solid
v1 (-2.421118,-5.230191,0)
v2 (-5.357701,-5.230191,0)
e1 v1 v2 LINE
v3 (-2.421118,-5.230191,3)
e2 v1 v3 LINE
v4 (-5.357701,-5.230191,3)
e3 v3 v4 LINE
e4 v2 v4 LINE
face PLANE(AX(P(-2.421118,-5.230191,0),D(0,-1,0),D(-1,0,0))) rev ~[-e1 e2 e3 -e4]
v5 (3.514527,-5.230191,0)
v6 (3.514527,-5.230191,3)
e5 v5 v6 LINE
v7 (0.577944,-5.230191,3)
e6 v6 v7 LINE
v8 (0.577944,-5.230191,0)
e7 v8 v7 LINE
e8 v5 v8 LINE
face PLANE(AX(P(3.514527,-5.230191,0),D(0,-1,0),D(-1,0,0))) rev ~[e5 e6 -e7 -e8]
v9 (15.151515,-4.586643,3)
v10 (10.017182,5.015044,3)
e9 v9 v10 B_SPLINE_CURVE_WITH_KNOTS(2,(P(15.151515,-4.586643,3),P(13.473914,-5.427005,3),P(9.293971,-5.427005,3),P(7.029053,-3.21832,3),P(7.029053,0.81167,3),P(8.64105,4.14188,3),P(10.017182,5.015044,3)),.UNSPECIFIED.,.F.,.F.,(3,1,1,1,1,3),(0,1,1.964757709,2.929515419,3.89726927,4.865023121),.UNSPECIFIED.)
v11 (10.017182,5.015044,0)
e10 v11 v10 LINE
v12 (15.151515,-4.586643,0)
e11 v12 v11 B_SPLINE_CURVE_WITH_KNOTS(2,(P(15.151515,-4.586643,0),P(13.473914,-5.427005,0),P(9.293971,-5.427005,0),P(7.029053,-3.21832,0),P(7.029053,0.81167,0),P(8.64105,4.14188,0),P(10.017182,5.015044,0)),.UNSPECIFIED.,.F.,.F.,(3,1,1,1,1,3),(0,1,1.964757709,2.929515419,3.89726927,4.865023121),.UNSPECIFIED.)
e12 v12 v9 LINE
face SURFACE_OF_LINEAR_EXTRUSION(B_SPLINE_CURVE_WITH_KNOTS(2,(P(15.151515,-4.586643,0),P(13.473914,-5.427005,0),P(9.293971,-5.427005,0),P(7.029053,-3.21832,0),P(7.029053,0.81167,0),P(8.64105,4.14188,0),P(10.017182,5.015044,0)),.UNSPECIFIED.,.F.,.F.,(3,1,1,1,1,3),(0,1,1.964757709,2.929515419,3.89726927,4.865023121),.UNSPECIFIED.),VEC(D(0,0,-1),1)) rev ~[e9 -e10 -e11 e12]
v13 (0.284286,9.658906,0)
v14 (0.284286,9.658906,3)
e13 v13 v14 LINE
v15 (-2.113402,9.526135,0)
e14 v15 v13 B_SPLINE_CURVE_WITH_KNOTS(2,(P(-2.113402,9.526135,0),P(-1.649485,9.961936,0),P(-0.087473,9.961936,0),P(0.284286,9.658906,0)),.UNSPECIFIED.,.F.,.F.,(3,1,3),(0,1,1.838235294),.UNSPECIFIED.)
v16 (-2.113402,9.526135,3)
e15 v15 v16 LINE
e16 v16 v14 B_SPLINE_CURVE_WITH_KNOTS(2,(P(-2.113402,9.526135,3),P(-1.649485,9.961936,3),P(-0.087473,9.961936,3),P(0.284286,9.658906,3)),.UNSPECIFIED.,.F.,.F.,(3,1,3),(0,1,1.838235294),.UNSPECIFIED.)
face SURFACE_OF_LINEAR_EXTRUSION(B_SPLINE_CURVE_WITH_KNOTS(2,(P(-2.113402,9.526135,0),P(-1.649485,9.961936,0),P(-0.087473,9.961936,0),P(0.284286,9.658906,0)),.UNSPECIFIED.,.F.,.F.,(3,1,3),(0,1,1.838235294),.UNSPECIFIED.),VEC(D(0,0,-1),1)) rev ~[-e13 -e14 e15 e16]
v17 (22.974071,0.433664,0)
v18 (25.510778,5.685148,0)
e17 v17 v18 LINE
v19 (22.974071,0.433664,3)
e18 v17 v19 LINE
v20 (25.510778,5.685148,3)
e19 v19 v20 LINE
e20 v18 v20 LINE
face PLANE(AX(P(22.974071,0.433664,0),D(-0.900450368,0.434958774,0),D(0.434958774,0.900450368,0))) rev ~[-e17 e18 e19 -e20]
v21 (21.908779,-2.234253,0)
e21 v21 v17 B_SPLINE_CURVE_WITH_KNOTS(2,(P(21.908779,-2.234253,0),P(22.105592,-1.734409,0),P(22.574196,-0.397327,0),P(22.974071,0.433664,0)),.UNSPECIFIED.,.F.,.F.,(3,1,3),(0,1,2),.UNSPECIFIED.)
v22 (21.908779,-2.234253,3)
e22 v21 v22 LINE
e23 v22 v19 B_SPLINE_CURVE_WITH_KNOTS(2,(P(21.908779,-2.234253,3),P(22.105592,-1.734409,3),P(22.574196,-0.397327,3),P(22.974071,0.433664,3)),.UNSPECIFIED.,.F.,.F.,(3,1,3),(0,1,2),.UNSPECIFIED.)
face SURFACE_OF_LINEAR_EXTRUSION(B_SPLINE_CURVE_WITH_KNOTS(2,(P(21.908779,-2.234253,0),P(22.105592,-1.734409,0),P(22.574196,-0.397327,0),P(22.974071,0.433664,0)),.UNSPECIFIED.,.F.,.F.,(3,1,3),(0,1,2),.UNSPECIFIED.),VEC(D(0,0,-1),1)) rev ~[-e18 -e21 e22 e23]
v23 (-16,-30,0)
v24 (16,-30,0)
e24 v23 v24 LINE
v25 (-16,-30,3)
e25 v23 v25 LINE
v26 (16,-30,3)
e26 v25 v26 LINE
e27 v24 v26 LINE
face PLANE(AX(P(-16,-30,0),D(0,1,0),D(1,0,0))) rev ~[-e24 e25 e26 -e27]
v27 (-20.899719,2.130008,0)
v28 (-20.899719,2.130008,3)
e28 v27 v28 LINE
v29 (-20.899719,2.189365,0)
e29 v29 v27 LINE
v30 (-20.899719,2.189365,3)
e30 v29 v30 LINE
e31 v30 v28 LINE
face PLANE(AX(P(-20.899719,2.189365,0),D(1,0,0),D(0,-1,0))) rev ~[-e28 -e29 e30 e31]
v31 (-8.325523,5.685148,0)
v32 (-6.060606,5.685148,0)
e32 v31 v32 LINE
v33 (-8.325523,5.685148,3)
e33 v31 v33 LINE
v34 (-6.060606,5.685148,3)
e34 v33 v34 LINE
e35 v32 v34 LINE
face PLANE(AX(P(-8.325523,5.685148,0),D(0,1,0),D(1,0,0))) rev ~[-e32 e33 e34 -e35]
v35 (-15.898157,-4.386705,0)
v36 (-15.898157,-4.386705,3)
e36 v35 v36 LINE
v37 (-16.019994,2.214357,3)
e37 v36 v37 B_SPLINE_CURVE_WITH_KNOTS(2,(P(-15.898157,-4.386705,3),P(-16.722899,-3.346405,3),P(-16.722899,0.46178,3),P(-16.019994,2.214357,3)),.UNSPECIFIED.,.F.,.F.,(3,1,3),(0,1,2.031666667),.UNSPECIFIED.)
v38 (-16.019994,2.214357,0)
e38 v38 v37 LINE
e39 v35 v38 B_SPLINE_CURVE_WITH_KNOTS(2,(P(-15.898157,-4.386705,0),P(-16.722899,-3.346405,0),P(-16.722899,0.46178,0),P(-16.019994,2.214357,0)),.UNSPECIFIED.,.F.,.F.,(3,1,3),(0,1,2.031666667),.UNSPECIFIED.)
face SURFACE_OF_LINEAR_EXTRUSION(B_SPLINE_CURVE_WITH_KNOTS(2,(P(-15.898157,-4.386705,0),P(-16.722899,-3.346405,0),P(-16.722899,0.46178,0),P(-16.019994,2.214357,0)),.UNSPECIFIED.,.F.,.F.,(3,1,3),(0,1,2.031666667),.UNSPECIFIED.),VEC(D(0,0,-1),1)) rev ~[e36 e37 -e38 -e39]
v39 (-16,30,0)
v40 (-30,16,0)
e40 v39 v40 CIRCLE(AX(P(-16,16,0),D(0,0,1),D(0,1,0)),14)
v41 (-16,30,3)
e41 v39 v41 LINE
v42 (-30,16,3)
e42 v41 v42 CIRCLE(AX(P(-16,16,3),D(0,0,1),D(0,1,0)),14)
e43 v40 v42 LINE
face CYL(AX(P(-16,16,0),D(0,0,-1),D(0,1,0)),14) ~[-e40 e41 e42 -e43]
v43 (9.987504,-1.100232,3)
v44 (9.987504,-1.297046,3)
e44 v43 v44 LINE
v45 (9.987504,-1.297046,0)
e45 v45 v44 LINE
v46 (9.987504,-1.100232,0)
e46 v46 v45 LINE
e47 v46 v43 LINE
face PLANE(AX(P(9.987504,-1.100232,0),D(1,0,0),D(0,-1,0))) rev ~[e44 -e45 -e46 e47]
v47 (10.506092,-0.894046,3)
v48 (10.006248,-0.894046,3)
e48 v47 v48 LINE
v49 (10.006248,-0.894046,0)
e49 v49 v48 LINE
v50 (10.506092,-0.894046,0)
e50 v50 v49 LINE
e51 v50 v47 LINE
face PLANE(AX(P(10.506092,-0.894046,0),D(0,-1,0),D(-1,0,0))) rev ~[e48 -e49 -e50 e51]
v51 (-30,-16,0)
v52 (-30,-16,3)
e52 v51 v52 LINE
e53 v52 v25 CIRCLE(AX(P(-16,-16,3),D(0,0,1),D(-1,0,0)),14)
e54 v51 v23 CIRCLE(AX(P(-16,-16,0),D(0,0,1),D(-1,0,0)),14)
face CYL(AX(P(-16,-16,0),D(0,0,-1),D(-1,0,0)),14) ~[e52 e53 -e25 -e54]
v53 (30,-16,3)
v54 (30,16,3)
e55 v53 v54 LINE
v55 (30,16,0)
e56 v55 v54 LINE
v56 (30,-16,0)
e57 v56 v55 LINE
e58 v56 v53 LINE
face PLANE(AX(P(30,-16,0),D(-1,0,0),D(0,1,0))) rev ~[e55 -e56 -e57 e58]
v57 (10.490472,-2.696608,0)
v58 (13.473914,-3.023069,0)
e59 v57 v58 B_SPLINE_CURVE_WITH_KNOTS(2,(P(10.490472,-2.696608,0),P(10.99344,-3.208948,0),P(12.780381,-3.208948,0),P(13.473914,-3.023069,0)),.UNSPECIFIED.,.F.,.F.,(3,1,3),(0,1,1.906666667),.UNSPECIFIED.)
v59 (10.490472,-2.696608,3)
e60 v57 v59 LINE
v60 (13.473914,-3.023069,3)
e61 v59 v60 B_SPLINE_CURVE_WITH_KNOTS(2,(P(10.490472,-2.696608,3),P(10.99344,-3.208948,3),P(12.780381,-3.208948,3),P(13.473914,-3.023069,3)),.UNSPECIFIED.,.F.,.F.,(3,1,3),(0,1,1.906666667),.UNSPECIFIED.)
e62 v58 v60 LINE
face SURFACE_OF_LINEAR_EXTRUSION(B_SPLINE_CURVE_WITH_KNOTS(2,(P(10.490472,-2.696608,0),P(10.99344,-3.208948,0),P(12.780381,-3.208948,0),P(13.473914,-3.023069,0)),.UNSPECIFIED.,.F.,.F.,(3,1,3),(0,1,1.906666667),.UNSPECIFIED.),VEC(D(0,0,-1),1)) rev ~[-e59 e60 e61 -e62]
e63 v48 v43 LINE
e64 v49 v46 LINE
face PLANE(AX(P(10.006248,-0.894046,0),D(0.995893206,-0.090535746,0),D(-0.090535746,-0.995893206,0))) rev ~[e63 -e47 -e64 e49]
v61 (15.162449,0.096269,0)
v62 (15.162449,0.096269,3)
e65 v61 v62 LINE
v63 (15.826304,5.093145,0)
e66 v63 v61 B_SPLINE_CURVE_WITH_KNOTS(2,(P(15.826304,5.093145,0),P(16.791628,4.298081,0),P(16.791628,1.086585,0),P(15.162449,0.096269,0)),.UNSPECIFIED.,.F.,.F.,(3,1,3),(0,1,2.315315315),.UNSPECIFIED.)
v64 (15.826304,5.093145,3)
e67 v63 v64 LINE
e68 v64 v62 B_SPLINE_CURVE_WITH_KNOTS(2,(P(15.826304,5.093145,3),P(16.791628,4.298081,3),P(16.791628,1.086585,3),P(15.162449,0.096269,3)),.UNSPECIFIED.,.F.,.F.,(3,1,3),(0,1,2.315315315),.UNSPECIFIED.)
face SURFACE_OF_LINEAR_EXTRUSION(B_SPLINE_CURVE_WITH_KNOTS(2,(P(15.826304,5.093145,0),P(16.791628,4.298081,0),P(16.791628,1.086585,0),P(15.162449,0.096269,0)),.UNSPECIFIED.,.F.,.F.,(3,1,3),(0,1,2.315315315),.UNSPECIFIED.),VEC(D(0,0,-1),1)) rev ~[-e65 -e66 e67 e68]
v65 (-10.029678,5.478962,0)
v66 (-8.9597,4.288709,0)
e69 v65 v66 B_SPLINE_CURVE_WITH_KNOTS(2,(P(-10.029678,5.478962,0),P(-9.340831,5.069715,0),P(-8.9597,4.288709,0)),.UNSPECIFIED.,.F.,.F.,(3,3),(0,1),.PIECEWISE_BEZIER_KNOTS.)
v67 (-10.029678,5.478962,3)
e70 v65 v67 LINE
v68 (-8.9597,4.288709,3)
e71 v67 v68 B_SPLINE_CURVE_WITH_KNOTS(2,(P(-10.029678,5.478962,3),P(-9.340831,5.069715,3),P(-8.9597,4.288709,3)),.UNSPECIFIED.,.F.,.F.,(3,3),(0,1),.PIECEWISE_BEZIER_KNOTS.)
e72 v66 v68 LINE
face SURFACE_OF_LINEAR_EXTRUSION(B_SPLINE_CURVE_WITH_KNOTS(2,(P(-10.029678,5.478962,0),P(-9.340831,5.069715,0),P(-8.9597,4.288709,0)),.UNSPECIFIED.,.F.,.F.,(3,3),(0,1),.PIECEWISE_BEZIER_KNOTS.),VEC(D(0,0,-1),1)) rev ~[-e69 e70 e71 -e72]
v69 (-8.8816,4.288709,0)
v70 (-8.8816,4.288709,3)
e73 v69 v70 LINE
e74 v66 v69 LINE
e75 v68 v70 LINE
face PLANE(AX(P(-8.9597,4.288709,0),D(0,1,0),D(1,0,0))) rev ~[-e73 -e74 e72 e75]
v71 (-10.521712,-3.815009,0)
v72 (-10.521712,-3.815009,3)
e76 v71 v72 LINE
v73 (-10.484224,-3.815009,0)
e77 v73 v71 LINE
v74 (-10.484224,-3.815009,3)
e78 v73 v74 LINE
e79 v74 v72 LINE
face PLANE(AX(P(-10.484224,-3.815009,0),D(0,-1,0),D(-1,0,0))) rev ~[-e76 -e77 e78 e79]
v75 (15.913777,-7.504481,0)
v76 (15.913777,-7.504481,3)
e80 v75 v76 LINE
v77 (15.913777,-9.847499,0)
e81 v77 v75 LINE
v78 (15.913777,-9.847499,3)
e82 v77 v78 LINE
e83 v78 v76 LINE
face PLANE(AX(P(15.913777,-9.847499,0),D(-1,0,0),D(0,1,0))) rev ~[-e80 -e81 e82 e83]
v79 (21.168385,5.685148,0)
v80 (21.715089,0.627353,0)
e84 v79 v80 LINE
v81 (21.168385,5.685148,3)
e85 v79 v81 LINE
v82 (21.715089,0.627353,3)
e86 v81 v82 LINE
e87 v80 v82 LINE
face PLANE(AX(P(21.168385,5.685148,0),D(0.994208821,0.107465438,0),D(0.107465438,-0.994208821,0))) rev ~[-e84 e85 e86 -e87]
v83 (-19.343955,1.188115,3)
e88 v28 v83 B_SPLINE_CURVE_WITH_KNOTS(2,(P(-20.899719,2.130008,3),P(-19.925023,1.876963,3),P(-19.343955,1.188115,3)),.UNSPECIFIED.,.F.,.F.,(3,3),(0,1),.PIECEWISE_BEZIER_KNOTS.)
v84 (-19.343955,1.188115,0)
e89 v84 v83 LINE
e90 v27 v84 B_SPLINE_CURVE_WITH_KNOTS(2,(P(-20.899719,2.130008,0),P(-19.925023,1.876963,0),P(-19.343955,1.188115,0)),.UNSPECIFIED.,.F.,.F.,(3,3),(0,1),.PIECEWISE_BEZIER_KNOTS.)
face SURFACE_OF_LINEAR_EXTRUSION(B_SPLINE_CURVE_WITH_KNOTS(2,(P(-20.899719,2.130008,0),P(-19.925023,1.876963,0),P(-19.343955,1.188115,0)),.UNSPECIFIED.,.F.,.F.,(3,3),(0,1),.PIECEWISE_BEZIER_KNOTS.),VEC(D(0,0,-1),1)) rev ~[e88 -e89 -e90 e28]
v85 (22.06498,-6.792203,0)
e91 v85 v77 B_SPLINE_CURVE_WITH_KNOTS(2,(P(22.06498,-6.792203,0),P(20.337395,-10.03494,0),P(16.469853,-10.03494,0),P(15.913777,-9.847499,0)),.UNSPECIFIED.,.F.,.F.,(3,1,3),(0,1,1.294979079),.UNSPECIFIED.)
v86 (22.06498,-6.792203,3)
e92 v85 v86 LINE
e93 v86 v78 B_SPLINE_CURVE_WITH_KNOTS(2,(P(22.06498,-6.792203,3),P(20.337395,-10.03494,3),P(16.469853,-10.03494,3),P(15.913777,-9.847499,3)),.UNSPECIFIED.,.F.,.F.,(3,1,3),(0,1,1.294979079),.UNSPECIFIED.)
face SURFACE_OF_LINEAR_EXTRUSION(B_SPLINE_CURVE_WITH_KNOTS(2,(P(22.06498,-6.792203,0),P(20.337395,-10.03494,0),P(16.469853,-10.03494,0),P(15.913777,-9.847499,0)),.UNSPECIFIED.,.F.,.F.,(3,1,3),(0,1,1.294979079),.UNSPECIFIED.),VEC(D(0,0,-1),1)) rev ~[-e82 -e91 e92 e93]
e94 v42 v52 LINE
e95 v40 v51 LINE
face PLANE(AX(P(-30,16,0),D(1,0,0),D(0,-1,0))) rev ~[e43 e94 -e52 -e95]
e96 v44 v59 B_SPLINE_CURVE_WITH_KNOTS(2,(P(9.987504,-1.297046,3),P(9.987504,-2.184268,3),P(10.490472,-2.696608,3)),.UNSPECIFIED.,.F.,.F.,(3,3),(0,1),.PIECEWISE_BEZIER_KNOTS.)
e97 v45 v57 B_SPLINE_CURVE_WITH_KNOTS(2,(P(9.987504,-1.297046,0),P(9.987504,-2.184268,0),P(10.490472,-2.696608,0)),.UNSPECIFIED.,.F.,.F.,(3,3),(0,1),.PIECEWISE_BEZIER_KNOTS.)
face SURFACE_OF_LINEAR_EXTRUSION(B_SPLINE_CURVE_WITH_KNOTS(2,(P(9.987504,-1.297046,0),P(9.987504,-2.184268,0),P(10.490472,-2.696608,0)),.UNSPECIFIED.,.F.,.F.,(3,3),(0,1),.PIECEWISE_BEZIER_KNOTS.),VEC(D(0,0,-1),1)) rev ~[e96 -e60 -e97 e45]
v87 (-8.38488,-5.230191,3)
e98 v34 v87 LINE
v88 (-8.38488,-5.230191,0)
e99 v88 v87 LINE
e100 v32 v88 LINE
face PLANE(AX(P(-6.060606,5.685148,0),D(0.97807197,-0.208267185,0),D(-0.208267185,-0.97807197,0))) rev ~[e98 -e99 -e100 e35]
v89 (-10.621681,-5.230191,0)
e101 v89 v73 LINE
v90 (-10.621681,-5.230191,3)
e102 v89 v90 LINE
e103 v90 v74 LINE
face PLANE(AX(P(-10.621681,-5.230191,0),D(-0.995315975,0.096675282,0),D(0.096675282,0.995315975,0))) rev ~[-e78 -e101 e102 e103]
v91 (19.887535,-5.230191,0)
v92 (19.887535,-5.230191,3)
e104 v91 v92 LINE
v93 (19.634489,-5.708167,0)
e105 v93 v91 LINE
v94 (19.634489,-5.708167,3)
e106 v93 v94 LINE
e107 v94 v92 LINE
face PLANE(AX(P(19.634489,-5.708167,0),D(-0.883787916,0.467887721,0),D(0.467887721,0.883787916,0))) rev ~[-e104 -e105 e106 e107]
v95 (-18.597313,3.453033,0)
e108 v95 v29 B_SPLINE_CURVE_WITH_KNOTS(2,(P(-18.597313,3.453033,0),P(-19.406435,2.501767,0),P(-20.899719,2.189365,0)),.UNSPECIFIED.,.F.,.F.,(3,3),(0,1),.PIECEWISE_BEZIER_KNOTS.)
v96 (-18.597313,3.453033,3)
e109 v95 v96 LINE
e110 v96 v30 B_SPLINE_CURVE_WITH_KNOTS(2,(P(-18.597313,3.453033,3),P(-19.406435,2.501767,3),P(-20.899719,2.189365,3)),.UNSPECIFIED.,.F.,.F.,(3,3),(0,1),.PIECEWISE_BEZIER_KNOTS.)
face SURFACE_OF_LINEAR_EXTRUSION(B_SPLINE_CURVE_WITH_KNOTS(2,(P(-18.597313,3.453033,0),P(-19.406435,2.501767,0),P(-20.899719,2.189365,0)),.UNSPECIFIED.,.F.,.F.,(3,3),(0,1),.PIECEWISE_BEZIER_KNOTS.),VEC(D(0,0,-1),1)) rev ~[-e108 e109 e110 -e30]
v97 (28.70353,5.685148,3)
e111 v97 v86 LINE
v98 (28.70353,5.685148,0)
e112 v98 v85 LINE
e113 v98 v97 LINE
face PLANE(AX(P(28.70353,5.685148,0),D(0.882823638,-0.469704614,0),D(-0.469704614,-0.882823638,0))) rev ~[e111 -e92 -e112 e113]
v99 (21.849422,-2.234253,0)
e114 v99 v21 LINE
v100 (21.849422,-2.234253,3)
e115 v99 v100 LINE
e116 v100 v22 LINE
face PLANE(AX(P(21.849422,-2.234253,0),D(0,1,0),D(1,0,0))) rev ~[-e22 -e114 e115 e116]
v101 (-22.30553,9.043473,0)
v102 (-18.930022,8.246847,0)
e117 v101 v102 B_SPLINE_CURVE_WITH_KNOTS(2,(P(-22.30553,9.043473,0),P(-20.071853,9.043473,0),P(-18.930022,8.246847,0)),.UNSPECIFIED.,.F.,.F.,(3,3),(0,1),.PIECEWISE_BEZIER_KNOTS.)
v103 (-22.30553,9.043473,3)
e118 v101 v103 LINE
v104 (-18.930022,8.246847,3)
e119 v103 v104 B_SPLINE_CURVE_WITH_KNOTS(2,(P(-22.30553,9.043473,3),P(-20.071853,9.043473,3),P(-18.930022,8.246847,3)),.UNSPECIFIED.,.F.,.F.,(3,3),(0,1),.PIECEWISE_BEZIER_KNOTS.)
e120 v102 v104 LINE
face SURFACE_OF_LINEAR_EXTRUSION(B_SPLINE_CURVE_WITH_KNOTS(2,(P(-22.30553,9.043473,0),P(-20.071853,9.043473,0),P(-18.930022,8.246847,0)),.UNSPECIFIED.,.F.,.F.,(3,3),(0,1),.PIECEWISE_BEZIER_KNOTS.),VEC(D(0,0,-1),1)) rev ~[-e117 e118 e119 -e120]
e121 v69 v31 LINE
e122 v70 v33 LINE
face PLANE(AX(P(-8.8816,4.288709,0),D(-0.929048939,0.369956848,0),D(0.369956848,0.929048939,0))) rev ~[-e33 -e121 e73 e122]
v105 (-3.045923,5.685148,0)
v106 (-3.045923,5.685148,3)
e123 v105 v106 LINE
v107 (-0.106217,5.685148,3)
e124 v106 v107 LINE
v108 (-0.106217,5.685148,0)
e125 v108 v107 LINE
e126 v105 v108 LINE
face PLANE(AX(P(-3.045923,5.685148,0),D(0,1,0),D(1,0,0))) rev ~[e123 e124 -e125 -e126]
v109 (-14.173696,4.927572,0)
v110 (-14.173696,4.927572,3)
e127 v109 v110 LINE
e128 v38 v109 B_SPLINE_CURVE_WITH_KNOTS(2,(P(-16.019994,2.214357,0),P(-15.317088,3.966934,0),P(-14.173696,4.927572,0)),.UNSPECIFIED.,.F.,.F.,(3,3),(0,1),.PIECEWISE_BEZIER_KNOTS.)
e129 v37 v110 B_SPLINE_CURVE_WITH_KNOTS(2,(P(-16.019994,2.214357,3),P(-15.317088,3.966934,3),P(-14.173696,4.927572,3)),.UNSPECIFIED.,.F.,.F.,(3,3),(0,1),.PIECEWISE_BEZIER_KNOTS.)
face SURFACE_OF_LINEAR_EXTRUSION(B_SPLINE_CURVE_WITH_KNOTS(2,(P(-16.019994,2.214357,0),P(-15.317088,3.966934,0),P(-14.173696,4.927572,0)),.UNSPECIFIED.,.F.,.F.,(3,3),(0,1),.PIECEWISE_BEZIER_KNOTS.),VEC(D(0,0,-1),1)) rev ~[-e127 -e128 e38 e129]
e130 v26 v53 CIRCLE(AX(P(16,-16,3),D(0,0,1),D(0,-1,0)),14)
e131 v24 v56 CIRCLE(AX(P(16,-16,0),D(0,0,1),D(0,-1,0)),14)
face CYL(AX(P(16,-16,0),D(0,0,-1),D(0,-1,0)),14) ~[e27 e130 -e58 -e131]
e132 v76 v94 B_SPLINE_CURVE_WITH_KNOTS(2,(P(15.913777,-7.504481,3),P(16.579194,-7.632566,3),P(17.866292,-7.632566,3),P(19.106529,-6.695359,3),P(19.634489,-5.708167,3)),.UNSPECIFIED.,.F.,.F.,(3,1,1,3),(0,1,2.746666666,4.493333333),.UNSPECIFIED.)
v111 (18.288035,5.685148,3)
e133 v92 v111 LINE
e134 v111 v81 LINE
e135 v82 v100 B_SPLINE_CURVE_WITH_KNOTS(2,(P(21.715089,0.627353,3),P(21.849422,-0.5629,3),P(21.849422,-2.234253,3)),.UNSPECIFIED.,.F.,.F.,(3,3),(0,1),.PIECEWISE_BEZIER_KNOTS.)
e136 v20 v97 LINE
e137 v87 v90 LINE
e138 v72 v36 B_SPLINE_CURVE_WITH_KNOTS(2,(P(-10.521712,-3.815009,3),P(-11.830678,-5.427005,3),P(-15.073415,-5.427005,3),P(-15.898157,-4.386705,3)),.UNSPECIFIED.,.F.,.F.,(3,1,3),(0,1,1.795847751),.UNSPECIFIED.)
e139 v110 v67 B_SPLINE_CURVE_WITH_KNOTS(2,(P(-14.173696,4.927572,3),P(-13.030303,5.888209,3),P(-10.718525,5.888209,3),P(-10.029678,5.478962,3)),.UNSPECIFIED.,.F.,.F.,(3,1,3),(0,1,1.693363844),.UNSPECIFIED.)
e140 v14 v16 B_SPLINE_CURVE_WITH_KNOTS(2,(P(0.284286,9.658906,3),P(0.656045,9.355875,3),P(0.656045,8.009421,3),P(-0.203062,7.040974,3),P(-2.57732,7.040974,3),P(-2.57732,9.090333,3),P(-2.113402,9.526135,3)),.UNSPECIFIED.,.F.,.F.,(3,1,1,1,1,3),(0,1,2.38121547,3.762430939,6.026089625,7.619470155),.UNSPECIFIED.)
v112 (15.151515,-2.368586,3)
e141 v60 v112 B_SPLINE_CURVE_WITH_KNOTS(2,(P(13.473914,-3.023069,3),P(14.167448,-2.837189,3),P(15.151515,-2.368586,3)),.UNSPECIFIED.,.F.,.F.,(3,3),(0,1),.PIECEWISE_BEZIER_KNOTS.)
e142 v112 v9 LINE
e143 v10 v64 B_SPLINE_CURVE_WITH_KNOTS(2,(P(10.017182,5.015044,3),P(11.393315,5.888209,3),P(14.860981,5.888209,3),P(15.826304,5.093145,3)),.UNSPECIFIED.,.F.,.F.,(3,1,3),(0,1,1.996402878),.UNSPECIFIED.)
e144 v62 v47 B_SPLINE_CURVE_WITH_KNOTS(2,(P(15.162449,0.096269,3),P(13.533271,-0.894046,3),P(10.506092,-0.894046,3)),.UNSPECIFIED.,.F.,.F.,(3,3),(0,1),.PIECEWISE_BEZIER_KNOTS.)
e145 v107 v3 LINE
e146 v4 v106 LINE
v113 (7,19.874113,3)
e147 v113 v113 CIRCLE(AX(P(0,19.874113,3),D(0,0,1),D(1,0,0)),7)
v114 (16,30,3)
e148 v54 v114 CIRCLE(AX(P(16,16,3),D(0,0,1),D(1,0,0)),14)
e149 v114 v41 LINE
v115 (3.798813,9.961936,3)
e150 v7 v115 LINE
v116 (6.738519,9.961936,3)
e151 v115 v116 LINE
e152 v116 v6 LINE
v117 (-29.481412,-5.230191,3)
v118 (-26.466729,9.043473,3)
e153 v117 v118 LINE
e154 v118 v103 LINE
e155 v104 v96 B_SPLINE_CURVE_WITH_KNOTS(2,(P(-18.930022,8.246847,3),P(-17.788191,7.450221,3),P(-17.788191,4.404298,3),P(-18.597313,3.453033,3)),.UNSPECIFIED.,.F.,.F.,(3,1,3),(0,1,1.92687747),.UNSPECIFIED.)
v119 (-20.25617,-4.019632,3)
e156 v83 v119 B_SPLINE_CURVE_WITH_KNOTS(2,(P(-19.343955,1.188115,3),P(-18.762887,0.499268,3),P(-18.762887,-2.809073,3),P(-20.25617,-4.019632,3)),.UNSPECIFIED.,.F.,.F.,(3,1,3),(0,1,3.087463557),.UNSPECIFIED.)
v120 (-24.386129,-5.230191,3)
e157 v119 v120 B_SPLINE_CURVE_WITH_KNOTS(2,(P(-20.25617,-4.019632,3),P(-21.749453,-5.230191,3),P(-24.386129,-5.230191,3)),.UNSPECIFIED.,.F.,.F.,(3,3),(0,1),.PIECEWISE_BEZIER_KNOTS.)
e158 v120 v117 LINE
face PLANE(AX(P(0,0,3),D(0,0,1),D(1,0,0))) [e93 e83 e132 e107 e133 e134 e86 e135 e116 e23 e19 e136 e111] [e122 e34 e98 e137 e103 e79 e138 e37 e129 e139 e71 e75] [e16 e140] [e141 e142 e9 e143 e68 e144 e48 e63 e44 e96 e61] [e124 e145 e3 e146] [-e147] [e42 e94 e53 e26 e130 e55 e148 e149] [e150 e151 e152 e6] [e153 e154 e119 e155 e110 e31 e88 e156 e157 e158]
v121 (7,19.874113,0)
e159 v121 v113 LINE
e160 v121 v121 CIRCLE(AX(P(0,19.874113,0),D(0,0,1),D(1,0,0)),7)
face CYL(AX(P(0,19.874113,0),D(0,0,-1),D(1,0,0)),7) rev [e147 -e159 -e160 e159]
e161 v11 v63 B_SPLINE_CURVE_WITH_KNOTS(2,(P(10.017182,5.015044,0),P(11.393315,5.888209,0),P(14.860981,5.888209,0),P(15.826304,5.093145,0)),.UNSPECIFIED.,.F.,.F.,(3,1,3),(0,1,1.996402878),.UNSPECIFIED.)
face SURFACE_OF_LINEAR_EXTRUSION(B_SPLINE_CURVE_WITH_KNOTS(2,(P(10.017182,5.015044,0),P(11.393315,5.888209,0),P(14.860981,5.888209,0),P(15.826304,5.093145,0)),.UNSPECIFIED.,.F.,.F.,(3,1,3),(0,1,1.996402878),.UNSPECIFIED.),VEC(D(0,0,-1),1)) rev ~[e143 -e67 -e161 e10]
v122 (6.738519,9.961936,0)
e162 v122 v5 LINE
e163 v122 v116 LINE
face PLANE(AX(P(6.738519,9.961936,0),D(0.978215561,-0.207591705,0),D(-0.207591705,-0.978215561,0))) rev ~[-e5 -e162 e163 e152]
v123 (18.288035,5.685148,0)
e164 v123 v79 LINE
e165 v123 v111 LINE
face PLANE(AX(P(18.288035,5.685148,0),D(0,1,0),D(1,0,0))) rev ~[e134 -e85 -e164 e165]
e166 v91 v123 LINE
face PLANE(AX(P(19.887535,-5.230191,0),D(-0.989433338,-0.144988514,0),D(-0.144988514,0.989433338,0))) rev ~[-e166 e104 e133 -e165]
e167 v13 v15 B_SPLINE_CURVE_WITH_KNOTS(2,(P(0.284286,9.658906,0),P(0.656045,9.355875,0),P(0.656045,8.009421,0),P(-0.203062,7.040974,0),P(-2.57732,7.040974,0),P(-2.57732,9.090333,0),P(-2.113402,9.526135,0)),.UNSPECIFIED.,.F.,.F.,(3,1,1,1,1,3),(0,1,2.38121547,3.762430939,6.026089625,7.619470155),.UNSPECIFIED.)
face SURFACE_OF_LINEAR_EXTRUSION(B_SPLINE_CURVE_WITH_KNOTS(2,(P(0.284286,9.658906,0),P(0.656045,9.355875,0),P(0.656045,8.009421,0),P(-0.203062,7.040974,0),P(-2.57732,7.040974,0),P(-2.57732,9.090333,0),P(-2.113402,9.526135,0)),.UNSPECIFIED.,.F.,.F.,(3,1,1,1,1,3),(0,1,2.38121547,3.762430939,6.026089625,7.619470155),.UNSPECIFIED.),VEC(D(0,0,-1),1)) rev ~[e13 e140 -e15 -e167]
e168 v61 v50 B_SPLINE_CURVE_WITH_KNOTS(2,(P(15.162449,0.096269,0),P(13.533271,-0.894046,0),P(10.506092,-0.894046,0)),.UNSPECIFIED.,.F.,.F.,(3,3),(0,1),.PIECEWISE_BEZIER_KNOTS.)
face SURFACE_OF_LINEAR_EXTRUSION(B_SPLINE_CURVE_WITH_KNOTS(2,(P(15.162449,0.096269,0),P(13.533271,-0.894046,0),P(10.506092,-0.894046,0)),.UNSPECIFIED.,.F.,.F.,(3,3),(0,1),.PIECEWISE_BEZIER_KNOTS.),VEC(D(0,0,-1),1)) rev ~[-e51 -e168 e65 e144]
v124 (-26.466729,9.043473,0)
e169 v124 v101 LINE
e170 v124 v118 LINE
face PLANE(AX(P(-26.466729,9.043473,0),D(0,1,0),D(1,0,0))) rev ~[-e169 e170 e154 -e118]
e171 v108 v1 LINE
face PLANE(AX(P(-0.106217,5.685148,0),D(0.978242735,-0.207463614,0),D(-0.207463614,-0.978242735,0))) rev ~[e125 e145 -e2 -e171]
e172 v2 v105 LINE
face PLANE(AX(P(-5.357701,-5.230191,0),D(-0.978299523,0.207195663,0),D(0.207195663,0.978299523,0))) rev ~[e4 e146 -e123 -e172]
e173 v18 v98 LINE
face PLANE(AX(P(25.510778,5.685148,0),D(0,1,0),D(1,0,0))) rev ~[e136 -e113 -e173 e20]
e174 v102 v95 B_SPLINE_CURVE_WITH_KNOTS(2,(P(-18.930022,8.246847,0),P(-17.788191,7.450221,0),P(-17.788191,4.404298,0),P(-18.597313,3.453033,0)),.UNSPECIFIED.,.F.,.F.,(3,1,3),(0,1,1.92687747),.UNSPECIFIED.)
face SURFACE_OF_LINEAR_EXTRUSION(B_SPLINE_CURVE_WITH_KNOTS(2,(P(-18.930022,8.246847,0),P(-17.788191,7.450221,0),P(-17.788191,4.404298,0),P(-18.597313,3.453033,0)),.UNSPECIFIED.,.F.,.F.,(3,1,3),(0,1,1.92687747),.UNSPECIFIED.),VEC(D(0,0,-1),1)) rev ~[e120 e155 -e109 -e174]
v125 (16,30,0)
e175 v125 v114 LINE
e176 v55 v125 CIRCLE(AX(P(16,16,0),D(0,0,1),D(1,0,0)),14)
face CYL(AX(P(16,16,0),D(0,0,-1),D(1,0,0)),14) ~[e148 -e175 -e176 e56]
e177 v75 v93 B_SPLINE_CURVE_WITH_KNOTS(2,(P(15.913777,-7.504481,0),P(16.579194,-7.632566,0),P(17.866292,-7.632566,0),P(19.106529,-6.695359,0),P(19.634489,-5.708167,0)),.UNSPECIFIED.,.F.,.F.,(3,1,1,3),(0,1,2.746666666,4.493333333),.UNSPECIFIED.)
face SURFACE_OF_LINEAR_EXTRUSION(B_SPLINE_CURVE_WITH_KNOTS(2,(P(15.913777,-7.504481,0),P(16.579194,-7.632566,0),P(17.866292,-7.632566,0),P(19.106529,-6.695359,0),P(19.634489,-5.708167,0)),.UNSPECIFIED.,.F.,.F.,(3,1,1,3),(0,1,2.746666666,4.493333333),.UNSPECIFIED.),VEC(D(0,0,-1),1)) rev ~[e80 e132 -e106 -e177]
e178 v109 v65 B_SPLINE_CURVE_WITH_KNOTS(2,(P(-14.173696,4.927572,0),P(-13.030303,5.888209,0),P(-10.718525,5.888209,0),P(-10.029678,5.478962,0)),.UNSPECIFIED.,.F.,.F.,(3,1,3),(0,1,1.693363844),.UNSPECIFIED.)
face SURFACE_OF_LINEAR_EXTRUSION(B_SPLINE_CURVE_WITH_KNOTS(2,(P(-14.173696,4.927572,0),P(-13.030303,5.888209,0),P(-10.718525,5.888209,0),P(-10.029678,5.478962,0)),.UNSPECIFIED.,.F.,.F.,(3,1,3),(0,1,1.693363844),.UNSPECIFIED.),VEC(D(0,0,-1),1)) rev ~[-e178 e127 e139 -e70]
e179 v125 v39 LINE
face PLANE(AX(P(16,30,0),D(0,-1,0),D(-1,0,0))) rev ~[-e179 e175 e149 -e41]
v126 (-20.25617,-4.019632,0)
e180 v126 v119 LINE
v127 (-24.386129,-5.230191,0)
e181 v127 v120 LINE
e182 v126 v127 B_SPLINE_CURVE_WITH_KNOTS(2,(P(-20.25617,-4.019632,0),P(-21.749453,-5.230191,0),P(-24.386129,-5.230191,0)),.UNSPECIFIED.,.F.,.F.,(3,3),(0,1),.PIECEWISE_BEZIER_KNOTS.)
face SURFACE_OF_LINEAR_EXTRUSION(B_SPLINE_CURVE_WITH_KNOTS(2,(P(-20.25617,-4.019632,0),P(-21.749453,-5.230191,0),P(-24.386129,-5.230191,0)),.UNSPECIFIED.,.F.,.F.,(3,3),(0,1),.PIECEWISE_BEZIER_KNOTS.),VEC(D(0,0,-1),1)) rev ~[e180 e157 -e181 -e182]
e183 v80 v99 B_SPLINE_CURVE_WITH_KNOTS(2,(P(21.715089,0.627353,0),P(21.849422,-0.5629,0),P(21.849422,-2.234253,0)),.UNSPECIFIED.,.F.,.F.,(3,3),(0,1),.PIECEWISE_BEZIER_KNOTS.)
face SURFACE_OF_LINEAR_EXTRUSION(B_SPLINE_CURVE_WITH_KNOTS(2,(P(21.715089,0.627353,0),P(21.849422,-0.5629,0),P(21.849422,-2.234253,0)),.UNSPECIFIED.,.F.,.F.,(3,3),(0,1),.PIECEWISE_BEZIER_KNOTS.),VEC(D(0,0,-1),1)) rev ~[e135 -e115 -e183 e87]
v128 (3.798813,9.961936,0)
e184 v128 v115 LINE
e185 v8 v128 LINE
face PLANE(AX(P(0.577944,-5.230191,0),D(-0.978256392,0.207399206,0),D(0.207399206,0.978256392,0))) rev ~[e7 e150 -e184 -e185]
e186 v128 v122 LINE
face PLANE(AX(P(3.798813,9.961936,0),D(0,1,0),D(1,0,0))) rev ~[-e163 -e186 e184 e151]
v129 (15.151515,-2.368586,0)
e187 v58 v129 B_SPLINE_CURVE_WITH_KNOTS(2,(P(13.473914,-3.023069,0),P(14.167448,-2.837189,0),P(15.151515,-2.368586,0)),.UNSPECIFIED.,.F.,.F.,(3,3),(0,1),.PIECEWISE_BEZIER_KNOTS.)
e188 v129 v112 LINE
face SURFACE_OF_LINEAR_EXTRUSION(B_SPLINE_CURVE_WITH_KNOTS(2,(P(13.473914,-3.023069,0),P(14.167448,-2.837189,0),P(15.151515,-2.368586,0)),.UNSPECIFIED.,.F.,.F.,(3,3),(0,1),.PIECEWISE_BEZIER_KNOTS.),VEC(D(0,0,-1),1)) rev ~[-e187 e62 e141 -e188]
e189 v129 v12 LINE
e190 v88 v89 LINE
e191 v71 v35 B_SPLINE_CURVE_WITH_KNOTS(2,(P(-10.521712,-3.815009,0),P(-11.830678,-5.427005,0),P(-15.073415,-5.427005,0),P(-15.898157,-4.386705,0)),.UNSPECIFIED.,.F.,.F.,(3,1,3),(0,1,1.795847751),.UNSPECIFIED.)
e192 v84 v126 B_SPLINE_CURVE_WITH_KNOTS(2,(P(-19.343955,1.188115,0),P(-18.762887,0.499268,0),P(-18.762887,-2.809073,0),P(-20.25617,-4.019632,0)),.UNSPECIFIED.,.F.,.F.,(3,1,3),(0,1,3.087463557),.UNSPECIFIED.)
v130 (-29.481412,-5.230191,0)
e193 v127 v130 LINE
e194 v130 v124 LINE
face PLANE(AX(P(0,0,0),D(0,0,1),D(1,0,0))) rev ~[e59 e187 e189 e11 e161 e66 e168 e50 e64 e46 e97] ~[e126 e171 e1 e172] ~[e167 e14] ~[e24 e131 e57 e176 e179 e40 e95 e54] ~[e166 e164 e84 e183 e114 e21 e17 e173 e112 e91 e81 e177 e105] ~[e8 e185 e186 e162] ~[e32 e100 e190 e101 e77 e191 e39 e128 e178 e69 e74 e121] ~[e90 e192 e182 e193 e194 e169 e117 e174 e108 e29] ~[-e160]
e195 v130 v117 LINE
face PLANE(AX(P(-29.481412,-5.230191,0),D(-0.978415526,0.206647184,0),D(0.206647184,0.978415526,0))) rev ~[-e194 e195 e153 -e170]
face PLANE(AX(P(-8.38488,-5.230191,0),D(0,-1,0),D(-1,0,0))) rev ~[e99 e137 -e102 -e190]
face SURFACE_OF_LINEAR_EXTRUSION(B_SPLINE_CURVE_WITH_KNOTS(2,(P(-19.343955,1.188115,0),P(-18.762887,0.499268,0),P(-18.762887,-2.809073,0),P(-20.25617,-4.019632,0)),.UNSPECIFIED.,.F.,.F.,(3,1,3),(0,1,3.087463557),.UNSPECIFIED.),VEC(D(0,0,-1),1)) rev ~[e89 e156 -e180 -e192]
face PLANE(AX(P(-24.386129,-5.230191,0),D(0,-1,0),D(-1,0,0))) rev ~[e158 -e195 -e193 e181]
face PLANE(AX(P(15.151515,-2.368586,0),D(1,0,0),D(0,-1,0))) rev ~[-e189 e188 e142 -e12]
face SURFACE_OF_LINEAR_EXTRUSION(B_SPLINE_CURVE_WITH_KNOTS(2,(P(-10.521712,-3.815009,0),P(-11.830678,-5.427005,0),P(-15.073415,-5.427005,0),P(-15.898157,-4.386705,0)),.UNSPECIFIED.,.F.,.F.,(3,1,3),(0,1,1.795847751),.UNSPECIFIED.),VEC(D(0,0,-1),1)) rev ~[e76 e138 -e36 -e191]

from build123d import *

# Parameters (mm, degrees)
F0_R     = 7
F1_DEPTH = 3


with BuildPart() as f1:
    # F0 (on Top) → F1 (new body)
    with BuildSketch(Plane.XY):
        with BuildLine():
            ThreePointArc((30, 16), (25.8994949366, 25.8994949366), (16, 30))
            Line((16, 30), (-16, 30))
            ThreePointArc((-16, 30), (-25.8994949366, 25.8994949366), (-30, 16))
            Line((-30, 16), (-30, -16))
            ThreePointArc((-30, -16), (-25.8994949366, -25.8994949366), (-16, -30))
            Line((-16, -30), (16, -30))
            ThreePointArc((16, -30), (25.8994949366, -25.8994949366), (30, -16))
            Line((30, -16), (30, 16))
        make_face()
        with BuildLine():
            Line((19.8875351453, -5.2301914546), (18.2880349891, 5.685147502))
            Line((18.2880349891, 5.685147502), (21.1683848797, 5.685147502))
            Line((21.1683848797, 5.685147502), (21.7150890347, 0.6273530628))
            add(Edge.make_bspline(
                [(21.7150890347, 0.6273530628), (21.8494220556, -0.5628999831), (21.8494220556, -2.2342526854)],
                knots=[0, 0, 0, 1, 1, 1], degree=2))
            Line((21.8494220556, -2.2342526854), (21.9087785067, -2.2342526854))
            add(Edge.make_bspline(
                [(21.9087785067, -2.2342526854), (22.1055920025, -1.7344088866), (22.3398937832, -1.0658678057)],
                knots=[0, 0, 0, 1, 1, 1], degree=2))
            add(Edge.make_bspline(
                [(22.3398937832, -1.0658678057), (22.5741955639, -0.3973267248), (22.9740706029, 0.4336635907)],
                knots=[0, 0, 0, 1, 1, 1], degree=2))
            Line((22.9740706029, 0.4336635907), (25.5107778819, 5.685147502))
            Line((25.5107778819, 5.685147502), (28.7035301468, 5.685147502))
            Line((28.7035301468, 5.685147502), (22.0649796938, -6.7922033259))
            add(Edge.make_bspline(
                [(22.0649796938, -6.7922033259), (20.3373945642, -10.0349399707), (17.3508278663, -10.0349399707)],
                knots=[0, 0, 0, 1, 1, 1], degree=2))
            add(Edge.make_bspline(
                [(17.3508278663, -10.0349399707), (16.4698531709, -10.0349399707), (15.9137769447, -9.8474985461)],
                knots=[0, 0, 0, 1, 1, 1], degree=2))
            Line((15.9137769447, -9.8474985461), (15.9137769447, -7.5044807392))
            add(Edge.make_bspline(
                [(15.9137769447, -7.5044807392), (16.5791940019, -7.6325657126), (17.0477975633, -7.6325657126)],
                knots=[0, 0, 0, 1, 1, 1], degree=2))
            add(Edge.make_bspline(
                [(17.0477975633, -7.6325657126), (17.8662917838, -7.6325657126), (18.4864104967, -7.1639621512)],
                knots=[0, 0, 0, 1, 1, 1], degree=2))
            add(Edge.make_bspline(
                [(18.4864104967, -7.1639621512), (19.1065292096, -6.6953585898), (19.6344892221, -5.7081670872)],
                knots=[0, 0, 0, 1, 1, 1], degree=2))
            Line((19.6344892221, -5.7081670872), (19.8875351453, -5.2301914546))
        make_face(mode=Mode.SUBTRACT)
        with BuildLine():
            Line((-26.4667291471, 9.0434730253), (-22.305529522, 9.0434730253))
            add(Edge.make_bspline(
                [(-22.305529522, 9.0434730253), (-20.0718525461, 9.0434730253), (-18.9300218682, 8.2468469709)],
                knots=[0, 0, 0, 1, 1, 1], degree=2))
            add(Edge.make_bspline(
                [(-18.9300218682, 8.2468469709), (-17.7881911903, 7.4502209166), (-17.7881911903, 5.8694649028)],
                knots=[0, 0, 0, 1, 1, 1], degree=2))
            add(Edge.make_bspline(
                [(-17.7881911903, 5.8694649028), (-17.7881911903, 4.4042977676), (-18.5973133396, 3.4530325379)],
                knots=[0, 0, 0, 1, 1, 1], degree=2))
            add(Edge.make_bspline(
                [(-18.5973133396, 3.4530325379), (-19.4064354889, 2.5017673083), (-20.8997188379, 2.1893649341)],
                knots=[0, 0, 0, 1, 1, 1], degree=2))
            Line((-20.8997188379, 2.1893649341), (-20.8997188379, 2.130008483))
            add(Edge.make_bspline(
                [(-20.8997188379, 2.130008483), (-19.9250234302, 1.8769625598), (-19.3439550141, 1.1881153246)],
                knots=[0, 0, 0, 1, 1, 1], degree=2))
            add(Edge.make_bspline(
                [(-19.3439550141, 1.1881153246), (-18.7628865979, 0.4992680893), (-18.7628865979, -0.5722720544)],
                knots=[0, 0, 0, 1, 1, 1], degree=2))
            add(Edge.make_bspline(
                [(-18.7628865979, -0.5722720544), (-18.7628865979, -2.8090730541), (-20.2561699469, -4.0196322543)],
                knots=[0, 0, 0, 1, 1, 1], degree=2))
            add(Edge.make_bspline(
                [(-20.2561699469, -4.0196322543), (-21.7494532958, -5.2301914546), (-24.3861293346, -5.2301914546)],
                knots=[0, 0, 0, 1, 1, 1], degree=2))
            Line((-24.3861293346, -5.2301914546), (-29.4814120587, -5.2301914546))
            Line((-29.4814120587, -5.2301914546), (-26.4667291471, 9.0434730253))
        make_face(mode=Mode.SUBTRACT)
        with BuildLine():
            add(Edge.make_bspline(
                [(-10.521711965, -3.8150086992), (-11.8306779132, -5.4270049503), (-13.6363636364, -5.4270049503)],
                knots=[0, 0, 0, 1, 1, 1], degree=2))
            add(Edge.make_bspline(
                [(-13.6363636364, -5.4270049503), (-15.073414558, -5.4270049503), (-15.898156826, -4.3867050441)],
                knots=[0, 0, 0, 1, 1, 1], degree=2))
            add(Edge.make_bspline(
                [(-15.898156826, -4.3867050441), (-16.722899094, -3.3464051378), (-16.722899094, -1.4719908922)],
                knots=[0, 0, 0, 1, 1, 1], degree=2))
            add(Edge.make_bspline(
                [(-16.722899094, -1.4719908922), (-16.722899094, 0.4617798044), (-16.019993752, 2.214357124)],
                knots=[0, 0, 0, 1, 1, 1], degree=2))
            add(Edge.make_bspline(
                [(-16.019993752, 2.214357124), (-15.3170884099, 3.9669344436), (-14.1736957201, 4.9275717444)],
                knots=[0, 0, 0, 1, 1, 1], degree=2))
            add(Edge.make_bspline(
                [(-14.1736957201, 4.9275717444), (-13.0303030303, 5.8882090453), (-11.6651046548, 5.8882090453)],
                knots=[0, 0, 0, 1, 1, 1], degree=2))
            add(Edge.make_bspline(
                [(-11.6651046548, 5.8882090453), (-10.7185254608, 5.8882090453), (-10.0296782256, 5.478961935)],
                knots=[0, 0, 0, 1, 1, 1], degree=2))
            add(Edge.make_bspline(
                [(-10.0296782256, 5.478961935), (-9.3408309903, 5.0697148247), (-8.9597000937, 4.2887088891)],
                knots=[0, 0, 0, 1, 1, 1], degree=2))
            Line((-8.9597000937, 4.2887088891), (-8.8815995002, 4.2887088891))
            Line((-8.8815995002, 4.2887088891), (-8.325523274, 5.685147502))
            Line((-8.325523274, 5.685147502), (-6.0606060606, 5.685147502))
            Line((-6.0606060606, 5.685147502), (-8.3848797251, -5.2301914546))
            Line((-8.3848797251, -5.2301914546), (-10.6216807248, -5.2301914546))
            Line((-10.6216807248, -5.2301914546), (-10.4842236801, -3.8150086992))
            Line((-10.4842236801, -3.8150086992), (-10.521711965, -3.8150086992))
        make_face(mode=Mode.SUBTRACT)
        Polygon((-0.1062168072, 5.685147502), (-2.4211184005, -5.2301914546), (-5.3577007185, -5.2301914546), (-3.045923149, 5.685147502), align=None, mode=Mode.SUBTRACT)
        with BuildLine():
            add(Edge.make_bspline(
                [(-1.1027803811, 7.0409738063), (-2.5773195876, 7.0409738063), (-2.5773195876, 8.2437229472)],
                knots=[0, 0, 0, 1, 1, 1], degree=2))
            add(Edge.make_bspline(
                [(-2.5773195876, 8.2437229472), (-2.5773195876, 9.0903333814), (-2.1134020619, 9.5261346935)],
                knots=[0, 0, 0, 1, 1, 1], degree=2))
            add(Edge.make_bspline(
                [(-2.1134020619, 9.5261346935), (-1.6494845361, 9.9619360056), (-0.7997500781, 9.9619360056)],
                knots=[0, 0, 0, 1, 1, 1], degree=2))
            add(Edge.make_bspline(
                [(-0.7997500781, 9.9619360056), (-0.0874726648, 9.9619360056), (0.2842861606, 9.6589057026)],
                knots=[0, 0, 0, 1, 1, 1], degree=2))
            add(Edge.make_bspline(
                [(0.2842861606, 9.6589057026), (0.6560449859, 9.3558753995), (0.6560449859, 8.7904271021)],
                knots=[0, 0, 0, 1, 1, 1], degree=2))
            add(Edge.make_bspline(
                [(0.6560449859, 8.7904271021), (0.6560449859, 8.0094211665), (0.2264917213, 7.5251974864)],
                knots=[0, 0, 0, 1, 1, 1], degree=2))
            add(Edge.make_bspline(
                [(0.2264917213, 7.5251974864), (-0.2030615433, 7.0409738063), (-1.1027803811, 7.0409738063)],
                knots=[0, 0, 0, 1, 1, 1], degree=2))
        make_face(mode=Mode.SUBTRACT)
        Polygon((6.7385192127, 9.9619360056), (3.5145267104, -5.2301914546), (0.5779443924, -5.2301914546), (3.798812871, 9.9619360056), align=None, mode=Mode.SUBTRACT)
        with BuildLine():
            add(Edge.make_bspline(
                [(15.1515151515, -4.5866425636), (13.4739144017, -5.4270049503), (11.3464542331, -5.4270049503)],
                knots=[0, 0, 0, 1, 1, 1], degree=2))
            add(Edge.make_bspline(
                [(11.3464542331, -5.4270049503), (9.2939706342, -5.4270049503), (8.1615120275, -4.3226625573)],
                knots=[0, 0, 0, 1, 1, 1], degree=2))
            add(Edge.make_bspline(
                [(8.1615120275, -4.3226625573), (7.0290534208, -3.2183201643), (7.0290534208, -1.2064488741)],
                knots=[0, 0, 0, 1, 1, 1], degree=2))
            add(Edge.make_bspline(
                [(7.0290534208, -1.2064488741), (7.0290534208, 0.8116704636), (7.8350515464, 2.4767751184)],
                knots=[0, 0, 0, 1, 1, 1], degree=2))
            add(Edge.make_bspline(
                [(7.8350515464, 2.4767751184), (8.641049672, 4.1418797732), (10.0171821306, 5.0150444092)],
                knots=[0, 0, 0, 1, 1, 1], degree=2))
            add(Edge.make_bspline(
                [(10.0171821306, 5.0150444092), (11.3933145892, 5.8882090453), (13.1302717901, 5.8882090453)],
                knots=[0, 0, 0, 1, 1, 1], degree=2))
            add(Edge.make_bspline(
                [(13.1302717901, 5.8882090453), (14.8609809435, 5.8882090453), (15.8263042799, 5.0931450028)],
                knots=[0, 0, 0, 1, 1, 1], degree=2))
            add(Edge.make_bspline(
                [(15.8263042799, 5.0931450028), (16.7916276164, 4.2980809603), (16.7916276164, 2.9110144186)],
                knots=[0, 0, 0, 1, 1, 1], degree=2))
            add(Edge.make_bspline(
                [(16.7916276164, 2.9110144186), (16.7916276164, 1.0865845529), (15.1624492346, 0.0962690265)],
                knots=[0, 0, 0, 1, 1, 1], degree=2))
            add(Edge.make_bspline(
                [(15.1624492346, 0.0962690265), (13.5332708529, -0.8940464999), (10.5060918463, -0.8940464999)],
                knots=[0, 0, 0, 1, 1, 1], degree=2))
            Line((10.5060918463, -0.8940464999), (10.0062480475, -0.8940464999))
            Line((10.0062480475, -0.8940464999), (9.987503905, -1.1002320669))
            Line((9.987503905, -1.1002320669), (9.987503905, -1.2970455627))
            add(Edge.make_bspline(
                [(9.987503905, -1.2970455627), (9.987503905, -2.1842683055), (10.4904717276, -2.6966081993)],
                knots=[0, 0, 0, 1, 1, 1], degree=2))
            add(Edge.make_bspline(
                [(10.4904717276, -2.6966081993), (10.9934395501, -3.2089480931), (11.9306466729, -3.2089480931)],
                knots=[0, 0, 0, 1, 1, 1], degree=2))
            add(Edge.make_bspline(
                [(11.9306466729, -3.2089480931), (12.7803811309, -3.2089480931), (13.4739144017, -3.0230686804)],
                knots=[0, 0, 0, 1, 1, 1], degree=2))
            add(Edge.make_bspline(
                [(13.4739144017, -3.0230686804), (14.1674476726, -2.8371892677), (15.1515151515, -2.3685857064)],
                knots=[0, 0, 0, 1, 1, 1], degree=2))
            Line((15.1515151515, -2.3685857064), (15.1515151515, -4.5866425636))
        make_face(mode=Mode.SUBTRACT)
        with Locations((0, 19.8741126806)):
            Circle(F0_R, mode=Mode.SUBTRACT)
    extrude(amount=F1_DEPTH)


solid = f1.part
